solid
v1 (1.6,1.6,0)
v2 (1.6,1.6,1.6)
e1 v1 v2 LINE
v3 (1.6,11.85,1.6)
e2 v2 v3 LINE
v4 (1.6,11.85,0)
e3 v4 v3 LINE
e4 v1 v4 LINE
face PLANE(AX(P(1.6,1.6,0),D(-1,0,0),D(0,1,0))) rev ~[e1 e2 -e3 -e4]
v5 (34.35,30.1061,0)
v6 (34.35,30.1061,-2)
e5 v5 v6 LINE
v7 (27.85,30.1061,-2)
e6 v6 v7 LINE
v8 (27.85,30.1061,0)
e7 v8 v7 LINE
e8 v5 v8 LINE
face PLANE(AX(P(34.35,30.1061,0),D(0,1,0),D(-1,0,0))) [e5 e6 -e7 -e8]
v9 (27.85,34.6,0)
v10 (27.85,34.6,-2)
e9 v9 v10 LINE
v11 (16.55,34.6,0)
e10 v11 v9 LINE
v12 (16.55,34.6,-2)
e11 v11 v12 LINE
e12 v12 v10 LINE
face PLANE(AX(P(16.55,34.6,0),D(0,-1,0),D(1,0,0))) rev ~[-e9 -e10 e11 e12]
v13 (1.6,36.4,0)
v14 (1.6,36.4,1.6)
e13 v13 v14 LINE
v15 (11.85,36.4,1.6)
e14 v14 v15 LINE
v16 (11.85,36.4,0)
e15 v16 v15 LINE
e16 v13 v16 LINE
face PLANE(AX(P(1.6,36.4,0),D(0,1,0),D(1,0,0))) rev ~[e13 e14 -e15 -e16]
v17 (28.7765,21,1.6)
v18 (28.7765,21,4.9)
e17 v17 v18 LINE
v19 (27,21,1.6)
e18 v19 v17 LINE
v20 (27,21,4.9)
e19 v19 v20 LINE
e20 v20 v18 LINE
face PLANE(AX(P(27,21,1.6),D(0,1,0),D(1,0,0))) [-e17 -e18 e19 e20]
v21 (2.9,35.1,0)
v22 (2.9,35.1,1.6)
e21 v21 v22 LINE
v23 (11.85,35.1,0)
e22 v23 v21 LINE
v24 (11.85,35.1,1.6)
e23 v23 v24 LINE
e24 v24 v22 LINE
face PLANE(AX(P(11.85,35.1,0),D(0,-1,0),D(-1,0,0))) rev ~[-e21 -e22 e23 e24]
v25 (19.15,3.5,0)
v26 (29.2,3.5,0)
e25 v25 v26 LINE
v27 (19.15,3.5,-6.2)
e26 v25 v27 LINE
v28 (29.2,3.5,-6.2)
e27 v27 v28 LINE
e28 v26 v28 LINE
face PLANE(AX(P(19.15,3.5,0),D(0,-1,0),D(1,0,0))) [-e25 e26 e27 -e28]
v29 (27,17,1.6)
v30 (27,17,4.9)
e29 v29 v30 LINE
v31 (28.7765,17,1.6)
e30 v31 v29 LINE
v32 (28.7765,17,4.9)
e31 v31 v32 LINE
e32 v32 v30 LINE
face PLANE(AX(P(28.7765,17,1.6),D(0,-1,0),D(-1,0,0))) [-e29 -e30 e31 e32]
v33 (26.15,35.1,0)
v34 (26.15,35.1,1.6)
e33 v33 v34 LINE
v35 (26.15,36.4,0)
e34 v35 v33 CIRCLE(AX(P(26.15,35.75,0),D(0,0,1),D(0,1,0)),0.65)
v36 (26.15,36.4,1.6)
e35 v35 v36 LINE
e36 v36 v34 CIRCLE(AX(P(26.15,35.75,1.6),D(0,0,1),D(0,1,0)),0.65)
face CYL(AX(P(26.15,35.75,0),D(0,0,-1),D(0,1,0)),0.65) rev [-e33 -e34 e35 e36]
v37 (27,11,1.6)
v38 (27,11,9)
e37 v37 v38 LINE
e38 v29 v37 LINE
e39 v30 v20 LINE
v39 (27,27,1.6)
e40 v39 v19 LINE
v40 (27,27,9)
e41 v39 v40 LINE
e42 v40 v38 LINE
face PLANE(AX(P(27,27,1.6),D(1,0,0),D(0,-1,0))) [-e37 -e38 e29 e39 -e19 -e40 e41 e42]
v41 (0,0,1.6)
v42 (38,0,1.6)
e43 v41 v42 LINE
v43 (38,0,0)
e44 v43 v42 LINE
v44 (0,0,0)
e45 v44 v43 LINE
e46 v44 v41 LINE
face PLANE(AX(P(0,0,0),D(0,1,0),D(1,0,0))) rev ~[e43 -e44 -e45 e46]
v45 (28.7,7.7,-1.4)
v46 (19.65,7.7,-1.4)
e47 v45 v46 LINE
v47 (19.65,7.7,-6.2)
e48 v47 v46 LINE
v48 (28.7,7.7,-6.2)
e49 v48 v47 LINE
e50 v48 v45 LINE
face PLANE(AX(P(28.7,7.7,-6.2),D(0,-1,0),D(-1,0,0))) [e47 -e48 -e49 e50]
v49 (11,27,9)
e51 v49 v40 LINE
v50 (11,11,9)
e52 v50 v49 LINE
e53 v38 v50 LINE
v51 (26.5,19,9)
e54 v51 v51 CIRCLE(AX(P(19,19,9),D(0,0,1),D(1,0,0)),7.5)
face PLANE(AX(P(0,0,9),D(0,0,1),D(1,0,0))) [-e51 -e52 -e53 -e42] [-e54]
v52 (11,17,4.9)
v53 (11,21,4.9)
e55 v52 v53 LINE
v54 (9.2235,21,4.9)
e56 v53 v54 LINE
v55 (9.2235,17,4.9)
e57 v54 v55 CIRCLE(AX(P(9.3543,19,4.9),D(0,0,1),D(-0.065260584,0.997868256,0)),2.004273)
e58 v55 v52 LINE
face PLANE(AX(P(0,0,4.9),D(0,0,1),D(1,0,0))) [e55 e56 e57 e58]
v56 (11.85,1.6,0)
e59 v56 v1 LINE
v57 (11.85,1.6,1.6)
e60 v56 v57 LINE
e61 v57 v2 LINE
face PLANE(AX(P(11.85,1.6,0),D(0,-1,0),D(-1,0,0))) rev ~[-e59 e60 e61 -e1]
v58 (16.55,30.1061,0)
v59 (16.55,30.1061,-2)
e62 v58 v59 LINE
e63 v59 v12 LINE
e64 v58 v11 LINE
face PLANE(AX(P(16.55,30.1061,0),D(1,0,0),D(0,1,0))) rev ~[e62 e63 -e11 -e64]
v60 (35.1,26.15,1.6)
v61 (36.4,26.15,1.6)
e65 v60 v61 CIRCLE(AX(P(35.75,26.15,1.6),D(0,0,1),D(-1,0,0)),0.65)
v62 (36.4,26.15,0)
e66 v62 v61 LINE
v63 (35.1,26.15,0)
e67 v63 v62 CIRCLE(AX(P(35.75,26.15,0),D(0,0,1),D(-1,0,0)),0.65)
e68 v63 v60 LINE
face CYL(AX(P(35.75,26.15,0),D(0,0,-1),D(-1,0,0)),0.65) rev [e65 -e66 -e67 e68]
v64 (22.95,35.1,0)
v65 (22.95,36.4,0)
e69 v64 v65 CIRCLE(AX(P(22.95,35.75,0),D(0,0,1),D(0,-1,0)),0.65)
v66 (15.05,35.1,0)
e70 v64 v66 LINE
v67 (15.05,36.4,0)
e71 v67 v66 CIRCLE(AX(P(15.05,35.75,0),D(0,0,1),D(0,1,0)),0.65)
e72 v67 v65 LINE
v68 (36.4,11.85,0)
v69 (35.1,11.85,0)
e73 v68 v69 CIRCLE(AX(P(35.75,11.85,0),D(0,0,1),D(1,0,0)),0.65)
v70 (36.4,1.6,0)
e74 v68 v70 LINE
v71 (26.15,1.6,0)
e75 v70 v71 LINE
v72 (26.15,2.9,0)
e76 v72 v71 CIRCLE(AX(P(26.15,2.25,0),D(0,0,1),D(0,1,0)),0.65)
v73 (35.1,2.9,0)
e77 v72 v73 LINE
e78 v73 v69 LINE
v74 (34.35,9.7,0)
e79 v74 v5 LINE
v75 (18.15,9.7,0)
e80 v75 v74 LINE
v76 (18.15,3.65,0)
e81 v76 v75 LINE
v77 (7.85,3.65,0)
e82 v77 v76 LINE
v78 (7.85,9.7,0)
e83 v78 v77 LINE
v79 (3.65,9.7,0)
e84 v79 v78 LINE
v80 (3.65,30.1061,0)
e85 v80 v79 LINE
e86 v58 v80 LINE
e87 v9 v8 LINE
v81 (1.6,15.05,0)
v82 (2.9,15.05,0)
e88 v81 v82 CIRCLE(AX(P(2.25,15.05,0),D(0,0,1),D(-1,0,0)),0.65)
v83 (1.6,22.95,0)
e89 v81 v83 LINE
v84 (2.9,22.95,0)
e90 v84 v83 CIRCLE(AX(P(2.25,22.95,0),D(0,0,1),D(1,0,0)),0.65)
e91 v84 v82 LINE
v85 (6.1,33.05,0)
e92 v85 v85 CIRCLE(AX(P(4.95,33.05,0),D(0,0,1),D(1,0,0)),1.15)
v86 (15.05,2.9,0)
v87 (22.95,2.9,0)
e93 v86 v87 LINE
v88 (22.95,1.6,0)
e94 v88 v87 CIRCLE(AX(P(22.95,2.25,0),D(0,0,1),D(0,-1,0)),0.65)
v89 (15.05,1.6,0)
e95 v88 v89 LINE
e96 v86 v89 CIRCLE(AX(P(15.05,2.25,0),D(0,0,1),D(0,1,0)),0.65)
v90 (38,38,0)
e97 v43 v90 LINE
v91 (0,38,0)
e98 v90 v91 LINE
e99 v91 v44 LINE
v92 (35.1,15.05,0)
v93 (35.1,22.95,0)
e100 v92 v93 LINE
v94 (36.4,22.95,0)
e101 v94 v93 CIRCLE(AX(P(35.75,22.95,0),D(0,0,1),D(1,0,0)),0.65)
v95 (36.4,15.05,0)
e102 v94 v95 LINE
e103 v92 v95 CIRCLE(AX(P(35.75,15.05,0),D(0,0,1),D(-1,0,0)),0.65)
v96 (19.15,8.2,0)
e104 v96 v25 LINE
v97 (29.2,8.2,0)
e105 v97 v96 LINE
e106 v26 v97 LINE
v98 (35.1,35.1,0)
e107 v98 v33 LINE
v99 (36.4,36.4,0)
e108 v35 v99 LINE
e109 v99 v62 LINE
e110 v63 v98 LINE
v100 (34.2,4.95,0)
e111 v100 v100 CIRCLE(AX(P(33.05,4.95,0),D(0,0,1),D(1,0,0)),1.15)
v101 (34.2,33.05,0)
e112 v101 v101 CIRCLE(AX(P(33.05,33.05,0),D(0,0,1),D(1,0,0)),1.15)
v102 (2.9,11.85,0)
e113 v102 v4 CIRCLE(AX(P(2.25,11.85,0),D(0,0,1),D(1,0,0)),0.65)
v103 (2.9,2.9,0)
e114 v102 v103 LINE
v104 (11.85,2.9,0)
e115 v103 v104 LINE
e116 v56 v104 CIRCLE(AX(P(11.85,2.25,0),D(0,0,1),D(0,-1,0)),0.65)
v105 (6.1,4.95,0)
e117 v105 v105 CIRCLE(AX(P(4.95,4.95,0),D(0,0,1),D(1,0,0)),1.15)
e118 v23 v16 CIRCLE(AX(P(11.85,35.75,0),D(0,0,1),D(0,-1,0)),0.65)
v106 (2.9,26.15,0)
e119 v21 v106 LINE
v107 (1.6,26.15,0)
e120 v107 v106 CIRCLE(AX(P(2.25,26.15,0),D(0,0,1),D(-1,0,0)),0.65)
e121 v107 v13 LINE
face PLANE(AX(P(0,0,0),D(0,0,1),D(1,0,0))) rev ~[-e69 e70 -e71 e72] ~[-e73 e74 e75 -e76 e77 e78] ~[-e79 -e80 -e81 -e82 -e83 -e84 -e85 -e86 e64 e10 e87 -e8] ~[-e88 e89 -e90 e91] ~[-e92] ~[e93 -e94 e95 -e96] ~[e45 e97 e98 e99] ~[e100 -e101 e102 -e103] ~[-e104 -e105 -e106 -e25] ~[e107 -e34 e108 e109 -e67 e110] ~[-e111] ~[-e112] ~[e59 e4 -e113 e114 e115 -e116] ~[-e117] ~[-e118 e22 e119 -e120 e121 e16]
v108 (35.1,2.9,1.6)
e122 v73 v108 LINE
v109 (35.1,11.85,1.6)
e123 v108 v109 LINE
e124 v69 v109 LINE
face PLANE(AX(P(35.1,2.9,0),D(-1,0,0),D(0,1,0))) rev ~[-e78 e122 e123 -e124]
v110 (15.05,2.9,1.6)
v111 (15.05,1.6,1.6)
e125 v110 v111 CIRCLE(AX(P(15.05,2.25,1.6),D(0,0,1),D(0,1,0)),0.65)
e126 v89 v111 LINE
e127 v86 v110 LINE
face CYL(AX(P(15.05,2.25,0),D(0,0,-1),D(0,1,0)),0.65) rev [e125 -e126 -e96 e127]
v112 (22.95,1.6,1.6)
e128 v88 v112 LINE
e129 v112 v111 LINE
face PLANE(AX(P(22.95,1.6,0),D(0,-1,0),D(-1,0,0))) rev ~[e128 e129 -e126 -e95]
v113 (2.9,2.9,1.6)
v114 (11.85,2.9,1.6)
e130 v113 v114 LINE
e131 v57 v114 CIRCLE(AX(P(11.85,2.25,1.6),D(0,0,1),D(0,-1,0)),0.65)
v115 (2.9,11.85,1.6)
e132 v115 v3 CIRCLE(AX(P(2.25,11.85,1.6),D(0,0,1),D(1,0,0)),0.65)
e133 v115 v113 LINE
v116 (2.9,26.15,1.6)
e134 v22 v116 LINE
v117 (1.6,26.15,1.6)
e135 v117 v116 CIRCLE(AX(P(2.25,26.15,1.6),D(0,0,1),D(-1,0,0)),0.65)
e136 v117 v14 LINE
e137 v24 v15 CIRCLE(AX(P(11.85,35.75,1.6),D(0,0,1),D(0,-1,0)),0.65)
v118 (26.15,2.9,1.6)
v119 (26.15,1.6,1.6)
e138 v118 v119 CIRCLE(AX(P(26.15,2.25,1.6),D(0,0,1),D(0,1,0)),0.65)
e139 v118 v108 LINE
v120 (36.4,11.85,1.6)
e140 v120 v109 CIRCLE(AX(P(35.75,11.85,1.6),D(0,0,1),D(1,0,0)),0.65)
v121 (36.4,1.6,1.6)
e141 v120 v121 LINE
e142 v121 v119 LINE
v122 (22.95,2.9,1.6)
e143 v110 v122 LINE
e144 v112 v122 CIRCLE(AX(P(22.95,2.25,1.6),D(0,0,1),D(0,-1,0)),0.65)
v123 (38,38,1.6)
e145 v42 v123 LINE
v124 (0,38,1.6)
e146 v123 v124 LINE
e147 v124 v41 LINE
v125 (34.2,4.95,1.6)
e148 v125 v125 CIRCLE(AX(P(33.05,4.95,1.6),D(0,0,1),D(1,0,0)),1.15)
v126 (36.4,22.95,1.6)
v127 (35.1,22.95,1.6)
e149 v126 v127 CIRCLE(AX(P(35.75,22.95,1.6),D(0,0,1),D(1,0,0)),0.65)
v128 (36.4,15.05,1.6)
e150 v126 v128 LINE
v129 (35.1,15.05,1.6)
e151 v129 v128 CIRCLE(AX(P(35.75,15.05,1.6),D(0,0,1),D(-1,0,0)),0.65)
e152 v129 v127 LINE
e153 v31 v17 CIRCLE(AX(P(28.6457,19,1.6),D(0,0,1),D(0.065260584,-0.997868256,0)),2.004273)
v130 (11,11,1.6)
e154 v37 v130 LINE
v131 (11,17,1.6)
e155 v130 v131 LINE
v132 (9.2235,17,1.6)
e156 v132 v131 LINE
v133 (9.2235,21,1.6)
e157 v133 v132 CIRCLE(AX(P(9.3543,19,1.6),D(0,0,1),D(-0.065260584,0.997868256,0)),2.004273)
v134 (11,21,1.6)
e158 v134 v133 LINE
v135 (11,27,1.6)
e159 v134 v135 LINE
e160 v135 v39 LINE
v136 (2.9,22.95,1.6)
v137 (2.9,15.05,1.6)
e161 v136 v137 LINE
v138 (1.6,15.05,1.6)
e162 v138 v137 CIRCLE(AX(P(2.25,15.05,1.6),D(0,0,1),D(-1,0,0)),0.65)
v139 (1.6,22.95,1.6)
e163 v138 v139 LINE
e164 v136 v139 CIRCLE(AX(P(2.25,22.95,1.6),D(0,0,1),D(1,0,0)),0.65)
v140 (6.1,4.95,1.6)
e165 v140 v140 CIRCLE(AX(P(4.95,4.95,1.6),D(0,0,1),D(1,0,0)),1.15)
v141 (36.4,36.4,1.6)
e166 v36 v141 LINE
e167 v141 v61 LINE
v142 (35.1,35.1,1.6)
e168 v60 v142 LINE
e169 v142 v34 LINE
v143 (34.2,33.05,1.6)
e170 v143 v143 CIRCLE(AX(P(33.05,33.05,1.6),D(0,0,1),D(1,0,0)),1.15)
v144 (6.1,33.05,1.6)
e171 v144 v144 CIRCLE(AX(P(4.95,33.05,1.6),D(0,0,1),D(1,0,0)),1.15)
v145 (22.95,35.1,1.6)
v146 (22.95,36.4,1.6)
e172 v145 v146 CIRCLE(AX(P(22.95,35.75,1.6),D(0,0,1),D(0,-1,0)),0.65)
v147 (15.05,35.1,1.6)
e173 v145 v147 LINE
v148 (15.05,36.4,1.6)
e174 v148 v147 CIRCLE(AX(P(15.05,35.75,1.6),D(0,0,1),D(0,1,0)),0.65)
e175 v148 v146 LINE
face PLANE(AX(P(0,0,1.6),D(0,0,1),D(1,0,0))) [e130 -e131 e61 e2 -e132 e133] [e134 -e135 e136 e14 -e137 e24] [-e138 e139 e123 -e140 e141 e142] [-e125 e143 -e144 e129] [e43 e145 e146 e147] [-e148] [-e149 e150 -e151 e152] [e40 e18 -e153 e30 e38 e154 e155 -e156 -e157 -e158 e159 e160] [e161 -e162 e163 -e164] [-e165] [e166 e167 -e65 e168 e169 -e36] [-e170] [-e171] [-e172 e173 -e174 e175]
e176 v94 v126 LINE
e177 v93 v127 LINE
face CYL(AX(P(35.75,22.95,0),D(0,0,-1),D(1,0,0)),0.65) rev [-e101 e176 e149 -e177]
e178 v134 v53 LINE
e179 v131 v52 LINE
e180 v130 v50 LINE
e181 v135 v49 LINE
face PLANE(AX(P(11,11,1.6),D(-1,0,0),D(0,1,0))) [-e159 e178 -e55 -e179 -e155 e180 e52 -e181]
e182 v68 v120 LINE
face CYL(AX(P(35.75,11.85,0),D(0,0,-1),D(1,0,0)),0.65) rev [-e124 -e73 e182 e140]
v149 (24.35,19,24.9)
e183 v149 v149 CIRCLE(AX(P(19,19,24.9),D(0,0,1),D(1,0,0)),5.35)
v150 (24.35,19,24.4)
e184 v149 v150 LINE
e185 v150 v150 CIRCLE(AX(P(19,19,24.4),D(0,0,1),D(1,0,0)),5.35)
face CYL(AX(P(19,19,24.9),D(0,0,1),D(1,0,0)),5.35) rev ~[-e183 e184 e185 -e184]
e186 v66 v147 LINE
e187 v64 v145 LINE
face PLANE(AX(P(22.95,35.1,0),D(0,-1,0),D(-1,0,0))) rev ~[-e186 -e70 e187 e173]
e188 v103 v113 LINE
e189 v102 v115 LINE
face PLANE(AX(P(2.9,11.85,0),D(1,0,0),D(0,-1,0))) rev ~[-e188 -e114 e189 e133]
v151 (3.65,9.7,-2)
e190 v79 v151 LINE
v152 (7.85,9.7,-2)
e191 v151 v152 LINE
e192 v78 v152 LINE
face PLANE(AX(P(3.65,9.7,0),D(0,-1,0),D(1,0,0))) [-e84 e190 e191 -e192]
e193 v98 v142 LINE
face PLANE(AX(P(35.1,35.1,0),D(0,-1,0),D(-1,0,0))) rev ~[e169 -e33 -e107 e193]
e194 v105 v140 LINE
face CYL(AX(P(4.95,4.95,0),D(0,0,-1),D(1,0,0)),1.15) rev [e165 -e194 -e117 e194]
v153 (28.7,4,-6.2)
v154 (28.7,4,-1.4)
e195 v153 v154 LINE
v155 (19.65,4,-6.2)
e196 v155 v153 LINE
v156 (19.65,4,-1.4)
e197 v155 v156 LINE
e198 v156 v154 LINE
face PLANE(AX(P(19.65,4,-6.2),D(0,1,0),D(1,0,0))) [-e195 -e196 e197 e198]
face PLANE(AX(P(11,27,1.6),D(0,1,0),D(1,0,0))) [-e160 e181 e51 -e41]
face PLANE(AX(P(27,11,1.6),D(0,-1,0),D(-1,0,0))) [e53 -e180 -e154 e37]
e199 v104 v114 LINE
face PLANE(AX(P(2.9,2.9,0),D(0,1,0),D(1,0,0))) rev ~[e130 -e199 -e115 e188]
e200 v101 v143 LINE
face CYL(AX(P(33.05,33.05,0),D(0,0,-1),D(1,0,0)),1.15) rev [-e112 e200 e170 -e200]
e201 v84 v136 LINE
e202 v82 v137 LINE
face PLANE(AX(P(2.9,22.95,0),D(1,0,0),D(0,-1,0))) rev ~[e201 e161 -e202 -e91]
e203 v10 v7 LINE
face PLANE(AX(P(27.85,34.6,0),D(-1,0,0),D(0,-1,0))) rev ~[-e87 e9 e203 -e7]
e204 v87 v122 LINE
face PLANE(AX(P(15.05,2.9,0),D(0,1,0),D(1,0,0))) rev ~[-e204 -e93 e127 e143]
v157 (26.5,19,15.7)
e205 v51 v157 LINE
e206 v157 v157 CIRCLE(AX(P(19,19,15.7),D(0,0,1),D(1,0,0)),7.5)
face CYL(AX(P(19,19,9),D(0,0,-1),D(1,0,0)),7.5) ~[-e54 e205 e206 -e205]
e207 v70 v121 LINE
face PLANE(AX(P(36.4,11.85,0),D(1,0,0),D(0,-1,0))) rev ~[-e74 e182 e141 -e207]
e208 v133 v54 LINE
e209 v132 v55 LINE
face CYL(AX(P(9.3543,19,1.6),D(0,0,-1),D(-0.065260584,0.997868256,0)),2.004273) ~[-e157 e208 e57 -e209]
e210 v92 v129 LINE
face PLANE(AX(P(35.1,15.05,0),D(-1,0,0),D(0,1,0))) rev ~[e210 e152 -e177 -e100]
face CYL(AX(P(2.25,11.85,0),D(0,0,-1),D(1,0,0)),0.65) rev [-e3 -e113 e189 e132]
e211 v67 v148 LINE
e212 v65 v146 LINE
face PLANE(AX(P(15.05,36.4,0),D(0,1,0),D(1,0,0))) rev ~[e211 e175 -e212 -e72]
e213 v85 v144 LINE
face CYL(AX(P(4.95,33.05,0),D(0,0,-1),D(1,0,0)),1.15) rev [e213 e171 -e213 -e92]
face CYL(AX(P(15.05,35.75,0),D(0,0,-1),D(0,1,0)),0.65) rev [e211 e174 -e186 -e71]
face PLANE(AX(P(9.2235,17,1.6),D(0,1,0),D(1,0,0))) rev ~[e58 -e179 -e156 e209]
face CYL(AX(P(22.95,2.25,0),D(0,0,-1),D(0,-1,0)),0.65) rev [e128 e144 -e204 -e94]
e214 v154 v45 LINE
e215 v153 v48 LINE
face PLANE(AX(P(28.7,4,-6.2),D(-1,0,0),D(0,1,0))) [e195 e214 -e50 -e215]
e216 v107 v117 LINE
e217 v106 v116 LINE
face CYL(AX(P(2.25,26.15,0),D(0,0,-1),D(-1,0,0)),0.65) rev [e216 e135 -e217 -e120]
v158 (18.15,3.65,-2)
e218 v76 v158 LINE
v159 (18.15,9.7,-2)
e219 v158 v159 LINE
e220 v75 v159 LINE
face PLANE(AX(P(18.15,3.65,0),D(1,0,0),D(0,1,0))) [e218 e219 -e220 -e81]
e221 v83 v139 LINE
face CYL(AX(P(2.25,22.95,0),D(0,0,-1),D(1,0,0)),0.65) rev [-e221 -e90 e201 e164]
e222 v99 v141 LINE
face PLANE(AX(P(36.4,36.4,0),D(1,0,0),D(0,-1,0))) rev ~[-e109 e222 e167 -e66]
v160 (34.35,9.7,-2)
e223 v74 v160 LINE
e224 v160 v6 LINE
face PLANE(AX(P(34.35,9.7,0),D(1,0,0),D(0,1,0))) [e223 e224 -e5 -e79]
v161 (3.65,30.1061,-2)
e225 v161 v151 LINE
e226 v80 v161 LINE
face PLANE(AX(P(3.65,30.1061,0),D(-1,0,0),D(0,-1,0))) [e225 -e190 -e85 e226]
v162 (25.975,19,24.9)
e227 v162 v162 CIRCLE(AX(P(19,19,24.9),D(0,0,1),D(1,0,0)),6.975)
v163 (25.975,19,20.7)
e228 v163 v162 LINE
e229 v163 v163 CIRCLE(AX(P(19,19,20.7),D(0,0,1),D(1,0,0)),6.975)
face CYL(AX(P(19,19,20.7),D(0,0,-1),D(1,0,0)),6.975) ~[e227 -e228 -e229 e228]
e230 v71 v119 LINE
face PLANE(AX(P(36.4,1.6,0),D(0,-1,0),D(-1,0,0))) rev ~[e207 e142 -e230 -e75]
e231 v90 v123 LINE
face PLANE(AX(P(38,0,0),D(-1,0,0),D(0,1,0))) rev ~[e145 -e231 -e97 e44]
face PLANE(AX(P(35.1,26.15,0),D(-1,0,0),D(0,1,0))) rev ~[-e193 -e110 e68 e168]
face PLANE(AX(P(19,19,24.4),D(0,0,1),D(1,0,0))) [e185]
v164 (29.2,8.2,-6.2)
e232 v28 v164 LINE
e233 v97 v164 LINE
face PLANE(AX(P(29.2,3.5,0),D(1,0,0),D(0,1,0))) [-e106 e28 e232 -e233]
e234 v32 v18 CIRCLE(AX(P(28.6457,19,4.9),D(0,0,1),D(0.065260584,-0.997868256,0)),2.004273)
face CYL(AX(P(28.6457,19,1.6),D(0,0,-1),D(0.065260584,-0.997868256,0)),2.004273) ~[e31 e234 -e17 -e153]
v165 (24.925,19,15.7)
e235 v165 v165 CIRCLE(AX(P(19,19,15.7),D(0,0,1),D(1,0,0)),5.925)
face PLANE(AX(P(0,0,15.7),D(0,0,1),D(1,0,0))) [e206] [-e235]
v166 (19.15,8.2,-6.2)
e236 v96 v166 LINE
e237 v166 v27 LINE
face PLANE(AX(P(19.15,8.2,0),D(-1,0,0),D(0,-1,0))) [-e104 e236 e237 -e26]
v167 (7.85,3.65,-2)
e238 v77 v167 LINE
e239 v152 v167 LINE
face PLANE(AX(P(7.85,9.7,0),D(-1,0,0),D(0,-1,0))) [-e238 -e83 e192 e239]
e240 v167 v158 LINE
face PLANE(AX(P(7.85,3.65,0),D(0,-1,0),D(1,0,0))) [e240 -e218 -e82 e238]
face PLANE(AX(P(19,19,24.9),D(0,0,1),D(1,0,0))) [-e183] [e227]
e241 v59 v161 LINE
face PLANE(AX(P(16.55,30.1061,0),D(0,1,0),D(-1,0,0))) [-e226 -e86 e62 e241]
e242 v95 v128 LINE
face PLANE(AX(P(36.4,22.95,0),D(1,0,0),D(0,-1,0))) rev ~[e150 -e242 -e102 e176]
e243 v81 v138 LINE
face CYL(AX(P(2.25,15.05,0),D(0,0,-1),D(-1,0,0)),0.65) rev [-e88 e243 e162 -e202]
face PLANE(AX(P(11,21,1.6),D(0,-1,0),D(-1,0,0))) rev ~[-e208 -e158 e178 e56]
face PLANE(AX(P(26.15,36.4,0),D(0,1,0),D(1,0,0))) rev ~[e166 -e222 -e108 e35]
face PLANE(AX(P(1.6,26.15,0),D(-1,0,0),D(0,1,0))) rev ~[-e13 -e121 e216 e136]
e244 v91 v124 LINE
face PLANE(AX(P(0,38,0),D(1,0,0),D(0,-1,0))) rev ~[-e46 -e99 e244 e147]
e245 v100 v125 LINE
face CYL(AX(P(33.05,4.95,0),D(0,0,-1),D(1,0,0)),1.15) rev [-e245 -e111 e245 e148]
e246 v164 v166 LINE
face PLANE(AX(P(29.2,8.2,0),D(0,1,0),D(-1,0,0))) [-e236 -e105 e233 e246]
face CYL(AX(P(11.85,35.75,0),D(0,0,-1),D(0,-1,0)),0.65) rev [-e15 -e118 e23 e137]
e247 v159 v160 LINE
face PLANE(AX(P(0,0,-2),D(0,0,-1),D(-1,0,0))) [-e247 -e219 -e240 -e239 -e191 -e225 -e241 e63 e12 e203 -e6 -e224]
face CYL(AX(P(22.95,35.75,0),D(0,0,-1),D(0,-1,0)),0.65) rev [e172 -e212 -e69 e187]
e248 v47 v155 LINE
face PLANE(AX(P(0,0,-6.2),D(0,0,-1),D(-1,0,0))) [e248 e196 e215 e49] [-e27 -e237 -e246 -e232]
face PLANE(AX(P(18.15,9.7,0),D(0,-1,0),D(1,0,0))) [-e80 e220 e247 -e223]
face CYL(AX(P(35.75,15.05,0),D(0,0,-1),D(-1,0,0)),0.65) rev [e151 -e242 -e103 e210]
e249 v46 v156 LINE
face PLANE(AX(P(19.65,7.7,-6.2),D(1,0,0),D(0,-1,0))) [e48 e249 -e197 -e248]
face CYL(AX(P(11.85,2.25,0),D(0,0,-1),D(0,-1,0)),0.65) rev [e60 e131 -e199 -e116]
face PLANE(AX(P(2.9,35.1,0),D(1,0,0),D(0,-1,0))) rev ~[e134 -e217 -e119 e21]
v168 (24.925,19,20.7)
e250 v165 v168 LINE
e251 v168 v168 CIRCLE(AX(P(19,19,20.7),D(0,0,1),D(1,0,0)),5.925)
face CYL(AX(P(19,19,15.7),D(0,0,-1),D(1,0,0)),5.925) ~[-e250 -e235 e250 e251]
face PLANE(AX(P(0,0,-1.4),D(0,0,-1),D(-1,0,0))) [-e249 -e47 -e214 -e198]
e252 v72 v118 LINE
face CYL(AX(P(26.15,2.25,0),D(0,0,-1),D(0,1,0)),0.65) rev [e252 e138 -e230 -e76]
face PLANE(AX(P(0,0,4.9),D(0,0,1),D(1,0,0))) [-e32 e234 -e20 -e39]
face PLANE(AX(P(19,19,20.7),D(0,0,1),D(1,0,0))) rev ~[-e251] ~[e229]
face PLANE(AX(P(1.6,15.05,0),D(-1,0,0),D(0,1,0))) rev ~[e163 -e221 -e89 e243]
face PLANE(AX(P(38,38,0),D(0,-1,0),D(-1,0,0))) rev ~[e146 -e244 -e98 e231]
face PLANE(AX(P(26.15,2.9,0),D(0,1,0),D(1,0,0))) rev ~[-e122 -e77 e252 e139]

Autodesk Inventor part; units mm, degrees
ref_plane "YZ Plane" through (0, 0, 0) normal (1, 0, 0) x (0, 1, 0)
ref_plane "XZ Plane" through (0, 0, 0) normal (0, 1, 0) x (-1, 0, 0)
ref_plane "XY Plane" through (0, 0, 0) normal (0, 0, 1) x (1, 0, 0)
sketch "Sketch1" plane through (0, 0, 0) normal (0, 0, 1) x (1, 0, 0)
  line L0 (0, 0) -> (38, 0)
  line L1 (38, 0) -> (38, 38)
  line L2 (38, 38) -> (0, 38)
  line L3 (0, 38) -> (0, 0)
  line L4 (35.1, 35.1) -> (2.9, 35.1)
  line L5 (0, 38) -> (38, 0) construction
  line L6 (38, 38) -> (0, 0) construction
  line L7 (19, 0) -> (19, 38) construction
  line L8 (0, 19) -> (38, 19) construction
  arc A0 (11.85, 1.6) -> (11.85, 2.9) centre (11.85, 2.25) ccw
  arc A1 (15.05, 2.9) -> (15.05, 1.6) centre (15.05, 2.25) ccw
  arc A2 (22.95, 1.6) -> (22.95, 2.9) centre (22.95, 2.25) ccw
  arc A3 (26.15, 2.9) -> (26.15, 1.6) centre (26.15, 2.25) ccw
  line L9 (2.9, 2.9) -> (11.85, 2.9)
  line L10 (11.85, 1.6) -> (1.6, 1.6)
  line L11 (36.4, 1.6) -> (26.15, 1.6)
  line L12 (22.95, 1.6) -> (15.05, 1.6)
  line L13 (15.05, 2.9) -> (22.95, 2.9)
  line L14 (26.15, 2.9) -> (35.1, 2.9)
  arc A4 (35.1, 26.15) -> (36.4, 26.15) centre (35.75, 26.15) ccw
  line L15 (35.1, 15.05) -> (35.1, 22.95)
  arc A5 (36.4, 22.95) -> (35.1, 22.95) centre (35.75, 22.95) ccw
  line L16 (36.4, 22.95) -> (36.4, 15.05)
  line L17 (36.4, 11.85) -> (36.4, 1.6)
  arc A6 (36.4, 11.85) -> (35.1, 11.85) centre (35.75, 11.85) ccw
  arc A7 (35.1, 15.05) -> (36.4, 15.05) centre (35.75, 15.05) ccw
  line L18 (35.1, 26.15) -> (35.1, 35.1)
  line L19 (36.4, 36.4) -> (36.4, 26.15)
  line L20 (35.1, 2.9) -> (35.1, 11.85)
  arc A8 (11.85, 35.1) -> (11.85, 36.4) centre (11.85, 35.75) ccw
  line L21 (22.95, 35.1) -> (15.05, 35.1)
  arc A9 (15.05, 36.4) -> (15.05, 35.1) centre (15.05, 35.75) ccw
  line L22 (15.05, 36.4) -> (22.95, 36.4)
  line L23 (26.15, 36.4) -> (36.4, 36.4)
  arc A10 (26.15, 36.4) -> (26.15, 35.1) centre (26.15, 35.75) ccw
  arc A11 (22.95, 35.1) -> (22.95, 36.4) centre (22.95, 35.75) ccw
  line L24 (11.85, 35.1) -> (2.9, 35.1)
  line L25 (1.6, 36.4) -> (11.85, 36.4)
  line L26 (35.1, 35.1) -> (26.15, 35.1)
  arc A12 (2.9, 11.85) -> (1.6, 11.85) centre (2.25, 11.85) ccw
  line L27 (2.9, 22.95) -> (2.9, 15.05)
  arc A13 (1.6, 15.05) -> (2.9, 15.05) centre (2.25, 15.05) ccw
  line L28 (1.6, 15.05) -> (1.6, 22.95)
  line L29 (1.6, 26.15) -> (1.6, 36.4)
  arc A14 (1.6, 26.15) -> (2.9, 26.15) centre (2.25, 26.15) ccw
  arc A15 (2.9, 22.95) -> (1.6, 22.95) centre (2.25, 22.95) ccw
  line L30 (2.9, 11.85) -> (2.9, 2.9)
  line L31 (1.6, 1.6) -> (1.6, 11.85)
  line L32 (2.9, 35.1) -> (2.9, 26.15)
  circle A16 centre (33.05, 4.95) radius 1.15
  line L33 (3.8, 34.2) -> (34.2, 34.2) construction
  line L34 (34.2, 34.2) -> (34.2, 3.8) construction
  line L35 (34.2, 3.8) -> (3.8, 3.8) construction
  line L36 (3.8, 3.8) -> (3.8, 34.2) construction
  circle A17 centre (4.95, 4.95) radius 1.15
  circle A18 centre (33.05, 33.05) radius 1.15
  circle A19 centre (4.95, 33.05) radius 1.15
  point P0 (23.6, 2.25)
  point P1 (14.4, 2.25)
  point P2 (25.5, 2.25)
  point P3 (12.5, 2.25)
  point P4 (19, 19)
  point P5 (35.75, 25.5)
  point P6 (35.75, 23.6)
  point P7 (35.75, 12.5)
  point P8 (35.75, 14.4)
  point P9 (12.5, 35.75)
  point P10 (14.4, 35.75)
  point P11 (25.5, 35.75)
  point P12 (23.6, 35.75)
  point P13 (2.25, 12.5)
  point P14 (2.25, 14.4)
  point P15 (2.25, 25.5)
  point P16 (2.25, 23.6)
  point P17 (2.9, 35.1)
  point P18 (26.15, 35.1)
  dimension "d0" = 38
  dimension "d1" = 38
  dimension "d4" = 9.2
  dimension "d5" = 13
  dimension "d8" = 360
  dimension "d10" = 2.3
  dimension "d11" = 0.9
extrude "Extrusion1" add sketch "Sketch1" along normal blind 1.6
sketch "Sketch2" plane through (0, 0, 1.6) normal (0, 0, 1) x (1, 0, 0)
  line L0 (11, 27) -> (27, 27)
  line L1 (27, 27) -> (27, 11)
  line L2 (27, 11) -> (11, 11)
  line L3 (11, 11) -> (11, 27)
  line L4 (38, 38) -> (0, 38) construction
  line L5 (19, 38) -> (19, 0) construction
  line L6 (0, 0) -> (38, 0) construction
  line L7 (38, 0) -> (38, 38) construction
  line L8 (38, 19) -> (0, 19) construction
  line L9 (0, 38) -> (0, 0) construction
  dimension "d14" = 16
  dimension "d15" = 16
extrude "Extrusion2" add sketch "Sketch2" along normal blind 7.4
sketch "Sketch3" plane through (0, 0, 1.6) normal (0, 0, 1) x (1, 0, 0)
  line L0 (38, 38) -> (0, 38) construction
  line L1 (19, 38) -> (19, 0) construction
  line L2 (0, 0) -> (38, 0) construction
  line L3 (27, 11) -> (27, 27) projected
  line L4 (27, 21) -> (28.7765, 21)
  line L5 (28.7765, 17) -> (27, 17)
  line L6 (27, 17) -> (27, 21)
  arc A0 (28.7765, 17) -> (28.7765, 21) centre (28.6457, 19) ccw
  line L7 (0, 38) -> (0, 0) construction
  line L8 (0, 19) -> (38, 19) construction
  line L9 (38, 0) -> (38, 38) construction
  line L10 (11, 11) -> (11, 27)
  line L11 (11, 21) -> (9.2235, 21)
  line L12 (9.2235, 17) -> (11, 17)
  line L13 (11, 17) -> (11, 21)
  arc A1 (9.2235, 21) -> (9.2235, 17) centre (9.3543, 19) ccw
  line L14 (38, 19) -> (0, 19) construction
  point P0 (27.8883, 21)
  point P1 (10.1117, 21)
  point P2 (30.65, 19)
  point P3 (7.35, 19)
  dimension "d18" = 4
  dimension "d19" = 23.3
extrude "Extrusion3" add sketch "Sketch3" along normal blind 3.3
sketch "Sketch4" plane through (0, 0, 9) normal (0, 0, 1) x (1, 0, 0)
  line L0 (27, 27) -> (11, 27) construction
  line L1 (19, 27) -> (19, 11) construction
  line L2 (27, 11) -> (11, 11) construction
  line L3 (27, 11) -> (27, 27) construction
  line L4 (27, 19) -> (11, 19) construction
  line L5 (11, 27) -> (11, 11) construction
  circle A0 centre (19, 19) radius 7.5
  point P0 (0, 0)
  dimension "d22" = 15
extrude "Extrusion4" add sketch "Sketch4" along normal blind 6.7
sketch "Sketch5" plane through (19, 19, 15.7) normal (0, 0, 1) x (1, 0, 0)
  circle A0 centre (0, 0) radius 7.5 projected
  circle A1 centre (0, 0) radius 5.925
  point P0 (-19, -19)
  dimension "d25" = 11.85
extrude "Extrusion5" add sketch "Sketch5" along normal blind 5 contours A1
sketch "Sketch6" plane through (19, 19, 20.7) normal (0, 0, 1) x (1, 0, 0)
  circle A0 centre (0, 0) radius 5.925 projected
  circle A1 centre (0, 0) radius 6.975
  point P0 (-19, -19)
  dimension "d28" = 13.95
extrude "Extrusion6" add sketch "Sketch6" along normal blind 4.2 contours A0 | A1
sketch "Sketch7" plane through (19, 19, 24.9) normal (0, 0, 1) x (1, 0, 0)
  circle A0 centre (0, 0) radius 6.975 projected
  circle A1 centre (0, 0) radius 5.35
  point P0 (-19, -19)
  dimension "d31" = 10.7
extrude "Extrusion7" cut sketch "Sketch7" against normal blind 0.5 contours A1
sketch "Sketch8" plane through (0, 0, 0) normal (0, 0, -1) x (-1, 0, 0)
  line L0 (-29.2, 8.2) -> (-19.15, 8.2)
  line L1 (-19.15, 8.2) -> (-19.15, 3.5)
  line L2 (-19.15, 3.5) -> (-29.2, 3.5)
  line L3 (-29.2, 3.5) -> (-29.2, 8.2)
  line L4 (-38, 0) -> (-38, 38) projected
  line L5 (0, 0) -> (-38, 0) projected
  dimension "d34" = 10.05
  dimension "d35" = 4.7
  dimension "d36" = 8.8
  dimension "d37" = 3.5
extrude "Extrusion8" add sketch "Sketch8" along normal blind 6.2
sketch "Sketch9" plane through (0, 0, -6.2) normal (0, 0, -1) x (-1, 0, 0)
  line L0 (-29.2, 3.5) -> (-19.15, 3.5) projected
  line L1 (-19.15, 3.5) -> (-19.15, 8.2) projected
  line L2 (-19.15, 8.2) -> (-29.2, 8.2) projected
  line L3 (-29.2, 8.2) -> (-29.2, 3.5) projected
  line L4 (-28.7, 7.7) -> (-19.65, 7.7)
  line L5 (-19.65, 7.7) -> (-19.65, 4)
  line L6 (-19.65, 4) -> (-28.7, 4)
  line L7 (-28.7, 4) -> (-28.7, 7.7)
  point P0 (0, 0)
  dimension "d40" = 0.5
extrude "Extrusion9" cut sketch "Sketch9" against normal blind 4.8 contours L4 L5 L6 L7
sketch "Sketch10" plane through (0, 0, 0) normal (0, 0, -1) x (-1, 0, 0)
  line L0 (-34.35, 30.1061) -> (-3.65, 30.1061)
  line L1 (-3.65, 30.1061) -> (-3.65, 9.7)
  line L2 (-3.65, 9.7) -> (-34.35, 9.7)
  line L3 (-34.35, 9.7) -> (-34.35, 30.1061)
  line L4 (-2.9, 22.95) -> (-2.9, 15.05) projected
  line L5 (-35.1, 15.05) -> (-35.1, 22.95) projected
  line L6 (-35.1, 35.1) -> (-26.15, 35.1) projected
  line L7 (-27.85, 30.1061) -> (-16.55, 30.1061)
  line L8 (-16.55, 30.1061) -> (-16.55, 34.6)
  line L9 (-16.55, 34.6) -> (-27.85, 34.6)
  line L10 (-27.85, 34.6) -> (-27.85, 30.1061)
  line L11 (-18.15, 9.7) -> (-7.85, 9.7)
  line L12 (-7.85, 9.7) -> (-7.85, 3.65)
  line L13 (-7.85, 3.65) -> (-18.15, 3.65)
  line L14 (-18.15, 3.65) -> (-18.15, 9.7)
  line L15 (-19.15, 8.2) -> (-29.2, 8.2) projected
  line L16 (-19.15, 3.5) -> (-19.15, 8.2) projected
  line L17 (-15.05, 2.9) -> (-22.95, 2.9) projected
  line L18 (-22.95, 35.1) -> (-15.05, 35.1) projected
  line L19 (-38, 0) -> (-38, 38) projected
  point P0 (0, 0)
  dimension "d43" = 0.75
  dimension "d44" = 0.75
  dimension "d45" = 4.9939
  dimension "d46" = 1.5
  dimension "d47" = 1
  dimension "d48" = 0.75
  dimension "d49" = 10.3
  dimension "d50" = 0.5
  dimension "d51" = 10.15
  dimension "d52" = 11.3
extrude "Extrusion10" add sketch "Sketch10" along normal blind 2
properties part number "Camera2"
